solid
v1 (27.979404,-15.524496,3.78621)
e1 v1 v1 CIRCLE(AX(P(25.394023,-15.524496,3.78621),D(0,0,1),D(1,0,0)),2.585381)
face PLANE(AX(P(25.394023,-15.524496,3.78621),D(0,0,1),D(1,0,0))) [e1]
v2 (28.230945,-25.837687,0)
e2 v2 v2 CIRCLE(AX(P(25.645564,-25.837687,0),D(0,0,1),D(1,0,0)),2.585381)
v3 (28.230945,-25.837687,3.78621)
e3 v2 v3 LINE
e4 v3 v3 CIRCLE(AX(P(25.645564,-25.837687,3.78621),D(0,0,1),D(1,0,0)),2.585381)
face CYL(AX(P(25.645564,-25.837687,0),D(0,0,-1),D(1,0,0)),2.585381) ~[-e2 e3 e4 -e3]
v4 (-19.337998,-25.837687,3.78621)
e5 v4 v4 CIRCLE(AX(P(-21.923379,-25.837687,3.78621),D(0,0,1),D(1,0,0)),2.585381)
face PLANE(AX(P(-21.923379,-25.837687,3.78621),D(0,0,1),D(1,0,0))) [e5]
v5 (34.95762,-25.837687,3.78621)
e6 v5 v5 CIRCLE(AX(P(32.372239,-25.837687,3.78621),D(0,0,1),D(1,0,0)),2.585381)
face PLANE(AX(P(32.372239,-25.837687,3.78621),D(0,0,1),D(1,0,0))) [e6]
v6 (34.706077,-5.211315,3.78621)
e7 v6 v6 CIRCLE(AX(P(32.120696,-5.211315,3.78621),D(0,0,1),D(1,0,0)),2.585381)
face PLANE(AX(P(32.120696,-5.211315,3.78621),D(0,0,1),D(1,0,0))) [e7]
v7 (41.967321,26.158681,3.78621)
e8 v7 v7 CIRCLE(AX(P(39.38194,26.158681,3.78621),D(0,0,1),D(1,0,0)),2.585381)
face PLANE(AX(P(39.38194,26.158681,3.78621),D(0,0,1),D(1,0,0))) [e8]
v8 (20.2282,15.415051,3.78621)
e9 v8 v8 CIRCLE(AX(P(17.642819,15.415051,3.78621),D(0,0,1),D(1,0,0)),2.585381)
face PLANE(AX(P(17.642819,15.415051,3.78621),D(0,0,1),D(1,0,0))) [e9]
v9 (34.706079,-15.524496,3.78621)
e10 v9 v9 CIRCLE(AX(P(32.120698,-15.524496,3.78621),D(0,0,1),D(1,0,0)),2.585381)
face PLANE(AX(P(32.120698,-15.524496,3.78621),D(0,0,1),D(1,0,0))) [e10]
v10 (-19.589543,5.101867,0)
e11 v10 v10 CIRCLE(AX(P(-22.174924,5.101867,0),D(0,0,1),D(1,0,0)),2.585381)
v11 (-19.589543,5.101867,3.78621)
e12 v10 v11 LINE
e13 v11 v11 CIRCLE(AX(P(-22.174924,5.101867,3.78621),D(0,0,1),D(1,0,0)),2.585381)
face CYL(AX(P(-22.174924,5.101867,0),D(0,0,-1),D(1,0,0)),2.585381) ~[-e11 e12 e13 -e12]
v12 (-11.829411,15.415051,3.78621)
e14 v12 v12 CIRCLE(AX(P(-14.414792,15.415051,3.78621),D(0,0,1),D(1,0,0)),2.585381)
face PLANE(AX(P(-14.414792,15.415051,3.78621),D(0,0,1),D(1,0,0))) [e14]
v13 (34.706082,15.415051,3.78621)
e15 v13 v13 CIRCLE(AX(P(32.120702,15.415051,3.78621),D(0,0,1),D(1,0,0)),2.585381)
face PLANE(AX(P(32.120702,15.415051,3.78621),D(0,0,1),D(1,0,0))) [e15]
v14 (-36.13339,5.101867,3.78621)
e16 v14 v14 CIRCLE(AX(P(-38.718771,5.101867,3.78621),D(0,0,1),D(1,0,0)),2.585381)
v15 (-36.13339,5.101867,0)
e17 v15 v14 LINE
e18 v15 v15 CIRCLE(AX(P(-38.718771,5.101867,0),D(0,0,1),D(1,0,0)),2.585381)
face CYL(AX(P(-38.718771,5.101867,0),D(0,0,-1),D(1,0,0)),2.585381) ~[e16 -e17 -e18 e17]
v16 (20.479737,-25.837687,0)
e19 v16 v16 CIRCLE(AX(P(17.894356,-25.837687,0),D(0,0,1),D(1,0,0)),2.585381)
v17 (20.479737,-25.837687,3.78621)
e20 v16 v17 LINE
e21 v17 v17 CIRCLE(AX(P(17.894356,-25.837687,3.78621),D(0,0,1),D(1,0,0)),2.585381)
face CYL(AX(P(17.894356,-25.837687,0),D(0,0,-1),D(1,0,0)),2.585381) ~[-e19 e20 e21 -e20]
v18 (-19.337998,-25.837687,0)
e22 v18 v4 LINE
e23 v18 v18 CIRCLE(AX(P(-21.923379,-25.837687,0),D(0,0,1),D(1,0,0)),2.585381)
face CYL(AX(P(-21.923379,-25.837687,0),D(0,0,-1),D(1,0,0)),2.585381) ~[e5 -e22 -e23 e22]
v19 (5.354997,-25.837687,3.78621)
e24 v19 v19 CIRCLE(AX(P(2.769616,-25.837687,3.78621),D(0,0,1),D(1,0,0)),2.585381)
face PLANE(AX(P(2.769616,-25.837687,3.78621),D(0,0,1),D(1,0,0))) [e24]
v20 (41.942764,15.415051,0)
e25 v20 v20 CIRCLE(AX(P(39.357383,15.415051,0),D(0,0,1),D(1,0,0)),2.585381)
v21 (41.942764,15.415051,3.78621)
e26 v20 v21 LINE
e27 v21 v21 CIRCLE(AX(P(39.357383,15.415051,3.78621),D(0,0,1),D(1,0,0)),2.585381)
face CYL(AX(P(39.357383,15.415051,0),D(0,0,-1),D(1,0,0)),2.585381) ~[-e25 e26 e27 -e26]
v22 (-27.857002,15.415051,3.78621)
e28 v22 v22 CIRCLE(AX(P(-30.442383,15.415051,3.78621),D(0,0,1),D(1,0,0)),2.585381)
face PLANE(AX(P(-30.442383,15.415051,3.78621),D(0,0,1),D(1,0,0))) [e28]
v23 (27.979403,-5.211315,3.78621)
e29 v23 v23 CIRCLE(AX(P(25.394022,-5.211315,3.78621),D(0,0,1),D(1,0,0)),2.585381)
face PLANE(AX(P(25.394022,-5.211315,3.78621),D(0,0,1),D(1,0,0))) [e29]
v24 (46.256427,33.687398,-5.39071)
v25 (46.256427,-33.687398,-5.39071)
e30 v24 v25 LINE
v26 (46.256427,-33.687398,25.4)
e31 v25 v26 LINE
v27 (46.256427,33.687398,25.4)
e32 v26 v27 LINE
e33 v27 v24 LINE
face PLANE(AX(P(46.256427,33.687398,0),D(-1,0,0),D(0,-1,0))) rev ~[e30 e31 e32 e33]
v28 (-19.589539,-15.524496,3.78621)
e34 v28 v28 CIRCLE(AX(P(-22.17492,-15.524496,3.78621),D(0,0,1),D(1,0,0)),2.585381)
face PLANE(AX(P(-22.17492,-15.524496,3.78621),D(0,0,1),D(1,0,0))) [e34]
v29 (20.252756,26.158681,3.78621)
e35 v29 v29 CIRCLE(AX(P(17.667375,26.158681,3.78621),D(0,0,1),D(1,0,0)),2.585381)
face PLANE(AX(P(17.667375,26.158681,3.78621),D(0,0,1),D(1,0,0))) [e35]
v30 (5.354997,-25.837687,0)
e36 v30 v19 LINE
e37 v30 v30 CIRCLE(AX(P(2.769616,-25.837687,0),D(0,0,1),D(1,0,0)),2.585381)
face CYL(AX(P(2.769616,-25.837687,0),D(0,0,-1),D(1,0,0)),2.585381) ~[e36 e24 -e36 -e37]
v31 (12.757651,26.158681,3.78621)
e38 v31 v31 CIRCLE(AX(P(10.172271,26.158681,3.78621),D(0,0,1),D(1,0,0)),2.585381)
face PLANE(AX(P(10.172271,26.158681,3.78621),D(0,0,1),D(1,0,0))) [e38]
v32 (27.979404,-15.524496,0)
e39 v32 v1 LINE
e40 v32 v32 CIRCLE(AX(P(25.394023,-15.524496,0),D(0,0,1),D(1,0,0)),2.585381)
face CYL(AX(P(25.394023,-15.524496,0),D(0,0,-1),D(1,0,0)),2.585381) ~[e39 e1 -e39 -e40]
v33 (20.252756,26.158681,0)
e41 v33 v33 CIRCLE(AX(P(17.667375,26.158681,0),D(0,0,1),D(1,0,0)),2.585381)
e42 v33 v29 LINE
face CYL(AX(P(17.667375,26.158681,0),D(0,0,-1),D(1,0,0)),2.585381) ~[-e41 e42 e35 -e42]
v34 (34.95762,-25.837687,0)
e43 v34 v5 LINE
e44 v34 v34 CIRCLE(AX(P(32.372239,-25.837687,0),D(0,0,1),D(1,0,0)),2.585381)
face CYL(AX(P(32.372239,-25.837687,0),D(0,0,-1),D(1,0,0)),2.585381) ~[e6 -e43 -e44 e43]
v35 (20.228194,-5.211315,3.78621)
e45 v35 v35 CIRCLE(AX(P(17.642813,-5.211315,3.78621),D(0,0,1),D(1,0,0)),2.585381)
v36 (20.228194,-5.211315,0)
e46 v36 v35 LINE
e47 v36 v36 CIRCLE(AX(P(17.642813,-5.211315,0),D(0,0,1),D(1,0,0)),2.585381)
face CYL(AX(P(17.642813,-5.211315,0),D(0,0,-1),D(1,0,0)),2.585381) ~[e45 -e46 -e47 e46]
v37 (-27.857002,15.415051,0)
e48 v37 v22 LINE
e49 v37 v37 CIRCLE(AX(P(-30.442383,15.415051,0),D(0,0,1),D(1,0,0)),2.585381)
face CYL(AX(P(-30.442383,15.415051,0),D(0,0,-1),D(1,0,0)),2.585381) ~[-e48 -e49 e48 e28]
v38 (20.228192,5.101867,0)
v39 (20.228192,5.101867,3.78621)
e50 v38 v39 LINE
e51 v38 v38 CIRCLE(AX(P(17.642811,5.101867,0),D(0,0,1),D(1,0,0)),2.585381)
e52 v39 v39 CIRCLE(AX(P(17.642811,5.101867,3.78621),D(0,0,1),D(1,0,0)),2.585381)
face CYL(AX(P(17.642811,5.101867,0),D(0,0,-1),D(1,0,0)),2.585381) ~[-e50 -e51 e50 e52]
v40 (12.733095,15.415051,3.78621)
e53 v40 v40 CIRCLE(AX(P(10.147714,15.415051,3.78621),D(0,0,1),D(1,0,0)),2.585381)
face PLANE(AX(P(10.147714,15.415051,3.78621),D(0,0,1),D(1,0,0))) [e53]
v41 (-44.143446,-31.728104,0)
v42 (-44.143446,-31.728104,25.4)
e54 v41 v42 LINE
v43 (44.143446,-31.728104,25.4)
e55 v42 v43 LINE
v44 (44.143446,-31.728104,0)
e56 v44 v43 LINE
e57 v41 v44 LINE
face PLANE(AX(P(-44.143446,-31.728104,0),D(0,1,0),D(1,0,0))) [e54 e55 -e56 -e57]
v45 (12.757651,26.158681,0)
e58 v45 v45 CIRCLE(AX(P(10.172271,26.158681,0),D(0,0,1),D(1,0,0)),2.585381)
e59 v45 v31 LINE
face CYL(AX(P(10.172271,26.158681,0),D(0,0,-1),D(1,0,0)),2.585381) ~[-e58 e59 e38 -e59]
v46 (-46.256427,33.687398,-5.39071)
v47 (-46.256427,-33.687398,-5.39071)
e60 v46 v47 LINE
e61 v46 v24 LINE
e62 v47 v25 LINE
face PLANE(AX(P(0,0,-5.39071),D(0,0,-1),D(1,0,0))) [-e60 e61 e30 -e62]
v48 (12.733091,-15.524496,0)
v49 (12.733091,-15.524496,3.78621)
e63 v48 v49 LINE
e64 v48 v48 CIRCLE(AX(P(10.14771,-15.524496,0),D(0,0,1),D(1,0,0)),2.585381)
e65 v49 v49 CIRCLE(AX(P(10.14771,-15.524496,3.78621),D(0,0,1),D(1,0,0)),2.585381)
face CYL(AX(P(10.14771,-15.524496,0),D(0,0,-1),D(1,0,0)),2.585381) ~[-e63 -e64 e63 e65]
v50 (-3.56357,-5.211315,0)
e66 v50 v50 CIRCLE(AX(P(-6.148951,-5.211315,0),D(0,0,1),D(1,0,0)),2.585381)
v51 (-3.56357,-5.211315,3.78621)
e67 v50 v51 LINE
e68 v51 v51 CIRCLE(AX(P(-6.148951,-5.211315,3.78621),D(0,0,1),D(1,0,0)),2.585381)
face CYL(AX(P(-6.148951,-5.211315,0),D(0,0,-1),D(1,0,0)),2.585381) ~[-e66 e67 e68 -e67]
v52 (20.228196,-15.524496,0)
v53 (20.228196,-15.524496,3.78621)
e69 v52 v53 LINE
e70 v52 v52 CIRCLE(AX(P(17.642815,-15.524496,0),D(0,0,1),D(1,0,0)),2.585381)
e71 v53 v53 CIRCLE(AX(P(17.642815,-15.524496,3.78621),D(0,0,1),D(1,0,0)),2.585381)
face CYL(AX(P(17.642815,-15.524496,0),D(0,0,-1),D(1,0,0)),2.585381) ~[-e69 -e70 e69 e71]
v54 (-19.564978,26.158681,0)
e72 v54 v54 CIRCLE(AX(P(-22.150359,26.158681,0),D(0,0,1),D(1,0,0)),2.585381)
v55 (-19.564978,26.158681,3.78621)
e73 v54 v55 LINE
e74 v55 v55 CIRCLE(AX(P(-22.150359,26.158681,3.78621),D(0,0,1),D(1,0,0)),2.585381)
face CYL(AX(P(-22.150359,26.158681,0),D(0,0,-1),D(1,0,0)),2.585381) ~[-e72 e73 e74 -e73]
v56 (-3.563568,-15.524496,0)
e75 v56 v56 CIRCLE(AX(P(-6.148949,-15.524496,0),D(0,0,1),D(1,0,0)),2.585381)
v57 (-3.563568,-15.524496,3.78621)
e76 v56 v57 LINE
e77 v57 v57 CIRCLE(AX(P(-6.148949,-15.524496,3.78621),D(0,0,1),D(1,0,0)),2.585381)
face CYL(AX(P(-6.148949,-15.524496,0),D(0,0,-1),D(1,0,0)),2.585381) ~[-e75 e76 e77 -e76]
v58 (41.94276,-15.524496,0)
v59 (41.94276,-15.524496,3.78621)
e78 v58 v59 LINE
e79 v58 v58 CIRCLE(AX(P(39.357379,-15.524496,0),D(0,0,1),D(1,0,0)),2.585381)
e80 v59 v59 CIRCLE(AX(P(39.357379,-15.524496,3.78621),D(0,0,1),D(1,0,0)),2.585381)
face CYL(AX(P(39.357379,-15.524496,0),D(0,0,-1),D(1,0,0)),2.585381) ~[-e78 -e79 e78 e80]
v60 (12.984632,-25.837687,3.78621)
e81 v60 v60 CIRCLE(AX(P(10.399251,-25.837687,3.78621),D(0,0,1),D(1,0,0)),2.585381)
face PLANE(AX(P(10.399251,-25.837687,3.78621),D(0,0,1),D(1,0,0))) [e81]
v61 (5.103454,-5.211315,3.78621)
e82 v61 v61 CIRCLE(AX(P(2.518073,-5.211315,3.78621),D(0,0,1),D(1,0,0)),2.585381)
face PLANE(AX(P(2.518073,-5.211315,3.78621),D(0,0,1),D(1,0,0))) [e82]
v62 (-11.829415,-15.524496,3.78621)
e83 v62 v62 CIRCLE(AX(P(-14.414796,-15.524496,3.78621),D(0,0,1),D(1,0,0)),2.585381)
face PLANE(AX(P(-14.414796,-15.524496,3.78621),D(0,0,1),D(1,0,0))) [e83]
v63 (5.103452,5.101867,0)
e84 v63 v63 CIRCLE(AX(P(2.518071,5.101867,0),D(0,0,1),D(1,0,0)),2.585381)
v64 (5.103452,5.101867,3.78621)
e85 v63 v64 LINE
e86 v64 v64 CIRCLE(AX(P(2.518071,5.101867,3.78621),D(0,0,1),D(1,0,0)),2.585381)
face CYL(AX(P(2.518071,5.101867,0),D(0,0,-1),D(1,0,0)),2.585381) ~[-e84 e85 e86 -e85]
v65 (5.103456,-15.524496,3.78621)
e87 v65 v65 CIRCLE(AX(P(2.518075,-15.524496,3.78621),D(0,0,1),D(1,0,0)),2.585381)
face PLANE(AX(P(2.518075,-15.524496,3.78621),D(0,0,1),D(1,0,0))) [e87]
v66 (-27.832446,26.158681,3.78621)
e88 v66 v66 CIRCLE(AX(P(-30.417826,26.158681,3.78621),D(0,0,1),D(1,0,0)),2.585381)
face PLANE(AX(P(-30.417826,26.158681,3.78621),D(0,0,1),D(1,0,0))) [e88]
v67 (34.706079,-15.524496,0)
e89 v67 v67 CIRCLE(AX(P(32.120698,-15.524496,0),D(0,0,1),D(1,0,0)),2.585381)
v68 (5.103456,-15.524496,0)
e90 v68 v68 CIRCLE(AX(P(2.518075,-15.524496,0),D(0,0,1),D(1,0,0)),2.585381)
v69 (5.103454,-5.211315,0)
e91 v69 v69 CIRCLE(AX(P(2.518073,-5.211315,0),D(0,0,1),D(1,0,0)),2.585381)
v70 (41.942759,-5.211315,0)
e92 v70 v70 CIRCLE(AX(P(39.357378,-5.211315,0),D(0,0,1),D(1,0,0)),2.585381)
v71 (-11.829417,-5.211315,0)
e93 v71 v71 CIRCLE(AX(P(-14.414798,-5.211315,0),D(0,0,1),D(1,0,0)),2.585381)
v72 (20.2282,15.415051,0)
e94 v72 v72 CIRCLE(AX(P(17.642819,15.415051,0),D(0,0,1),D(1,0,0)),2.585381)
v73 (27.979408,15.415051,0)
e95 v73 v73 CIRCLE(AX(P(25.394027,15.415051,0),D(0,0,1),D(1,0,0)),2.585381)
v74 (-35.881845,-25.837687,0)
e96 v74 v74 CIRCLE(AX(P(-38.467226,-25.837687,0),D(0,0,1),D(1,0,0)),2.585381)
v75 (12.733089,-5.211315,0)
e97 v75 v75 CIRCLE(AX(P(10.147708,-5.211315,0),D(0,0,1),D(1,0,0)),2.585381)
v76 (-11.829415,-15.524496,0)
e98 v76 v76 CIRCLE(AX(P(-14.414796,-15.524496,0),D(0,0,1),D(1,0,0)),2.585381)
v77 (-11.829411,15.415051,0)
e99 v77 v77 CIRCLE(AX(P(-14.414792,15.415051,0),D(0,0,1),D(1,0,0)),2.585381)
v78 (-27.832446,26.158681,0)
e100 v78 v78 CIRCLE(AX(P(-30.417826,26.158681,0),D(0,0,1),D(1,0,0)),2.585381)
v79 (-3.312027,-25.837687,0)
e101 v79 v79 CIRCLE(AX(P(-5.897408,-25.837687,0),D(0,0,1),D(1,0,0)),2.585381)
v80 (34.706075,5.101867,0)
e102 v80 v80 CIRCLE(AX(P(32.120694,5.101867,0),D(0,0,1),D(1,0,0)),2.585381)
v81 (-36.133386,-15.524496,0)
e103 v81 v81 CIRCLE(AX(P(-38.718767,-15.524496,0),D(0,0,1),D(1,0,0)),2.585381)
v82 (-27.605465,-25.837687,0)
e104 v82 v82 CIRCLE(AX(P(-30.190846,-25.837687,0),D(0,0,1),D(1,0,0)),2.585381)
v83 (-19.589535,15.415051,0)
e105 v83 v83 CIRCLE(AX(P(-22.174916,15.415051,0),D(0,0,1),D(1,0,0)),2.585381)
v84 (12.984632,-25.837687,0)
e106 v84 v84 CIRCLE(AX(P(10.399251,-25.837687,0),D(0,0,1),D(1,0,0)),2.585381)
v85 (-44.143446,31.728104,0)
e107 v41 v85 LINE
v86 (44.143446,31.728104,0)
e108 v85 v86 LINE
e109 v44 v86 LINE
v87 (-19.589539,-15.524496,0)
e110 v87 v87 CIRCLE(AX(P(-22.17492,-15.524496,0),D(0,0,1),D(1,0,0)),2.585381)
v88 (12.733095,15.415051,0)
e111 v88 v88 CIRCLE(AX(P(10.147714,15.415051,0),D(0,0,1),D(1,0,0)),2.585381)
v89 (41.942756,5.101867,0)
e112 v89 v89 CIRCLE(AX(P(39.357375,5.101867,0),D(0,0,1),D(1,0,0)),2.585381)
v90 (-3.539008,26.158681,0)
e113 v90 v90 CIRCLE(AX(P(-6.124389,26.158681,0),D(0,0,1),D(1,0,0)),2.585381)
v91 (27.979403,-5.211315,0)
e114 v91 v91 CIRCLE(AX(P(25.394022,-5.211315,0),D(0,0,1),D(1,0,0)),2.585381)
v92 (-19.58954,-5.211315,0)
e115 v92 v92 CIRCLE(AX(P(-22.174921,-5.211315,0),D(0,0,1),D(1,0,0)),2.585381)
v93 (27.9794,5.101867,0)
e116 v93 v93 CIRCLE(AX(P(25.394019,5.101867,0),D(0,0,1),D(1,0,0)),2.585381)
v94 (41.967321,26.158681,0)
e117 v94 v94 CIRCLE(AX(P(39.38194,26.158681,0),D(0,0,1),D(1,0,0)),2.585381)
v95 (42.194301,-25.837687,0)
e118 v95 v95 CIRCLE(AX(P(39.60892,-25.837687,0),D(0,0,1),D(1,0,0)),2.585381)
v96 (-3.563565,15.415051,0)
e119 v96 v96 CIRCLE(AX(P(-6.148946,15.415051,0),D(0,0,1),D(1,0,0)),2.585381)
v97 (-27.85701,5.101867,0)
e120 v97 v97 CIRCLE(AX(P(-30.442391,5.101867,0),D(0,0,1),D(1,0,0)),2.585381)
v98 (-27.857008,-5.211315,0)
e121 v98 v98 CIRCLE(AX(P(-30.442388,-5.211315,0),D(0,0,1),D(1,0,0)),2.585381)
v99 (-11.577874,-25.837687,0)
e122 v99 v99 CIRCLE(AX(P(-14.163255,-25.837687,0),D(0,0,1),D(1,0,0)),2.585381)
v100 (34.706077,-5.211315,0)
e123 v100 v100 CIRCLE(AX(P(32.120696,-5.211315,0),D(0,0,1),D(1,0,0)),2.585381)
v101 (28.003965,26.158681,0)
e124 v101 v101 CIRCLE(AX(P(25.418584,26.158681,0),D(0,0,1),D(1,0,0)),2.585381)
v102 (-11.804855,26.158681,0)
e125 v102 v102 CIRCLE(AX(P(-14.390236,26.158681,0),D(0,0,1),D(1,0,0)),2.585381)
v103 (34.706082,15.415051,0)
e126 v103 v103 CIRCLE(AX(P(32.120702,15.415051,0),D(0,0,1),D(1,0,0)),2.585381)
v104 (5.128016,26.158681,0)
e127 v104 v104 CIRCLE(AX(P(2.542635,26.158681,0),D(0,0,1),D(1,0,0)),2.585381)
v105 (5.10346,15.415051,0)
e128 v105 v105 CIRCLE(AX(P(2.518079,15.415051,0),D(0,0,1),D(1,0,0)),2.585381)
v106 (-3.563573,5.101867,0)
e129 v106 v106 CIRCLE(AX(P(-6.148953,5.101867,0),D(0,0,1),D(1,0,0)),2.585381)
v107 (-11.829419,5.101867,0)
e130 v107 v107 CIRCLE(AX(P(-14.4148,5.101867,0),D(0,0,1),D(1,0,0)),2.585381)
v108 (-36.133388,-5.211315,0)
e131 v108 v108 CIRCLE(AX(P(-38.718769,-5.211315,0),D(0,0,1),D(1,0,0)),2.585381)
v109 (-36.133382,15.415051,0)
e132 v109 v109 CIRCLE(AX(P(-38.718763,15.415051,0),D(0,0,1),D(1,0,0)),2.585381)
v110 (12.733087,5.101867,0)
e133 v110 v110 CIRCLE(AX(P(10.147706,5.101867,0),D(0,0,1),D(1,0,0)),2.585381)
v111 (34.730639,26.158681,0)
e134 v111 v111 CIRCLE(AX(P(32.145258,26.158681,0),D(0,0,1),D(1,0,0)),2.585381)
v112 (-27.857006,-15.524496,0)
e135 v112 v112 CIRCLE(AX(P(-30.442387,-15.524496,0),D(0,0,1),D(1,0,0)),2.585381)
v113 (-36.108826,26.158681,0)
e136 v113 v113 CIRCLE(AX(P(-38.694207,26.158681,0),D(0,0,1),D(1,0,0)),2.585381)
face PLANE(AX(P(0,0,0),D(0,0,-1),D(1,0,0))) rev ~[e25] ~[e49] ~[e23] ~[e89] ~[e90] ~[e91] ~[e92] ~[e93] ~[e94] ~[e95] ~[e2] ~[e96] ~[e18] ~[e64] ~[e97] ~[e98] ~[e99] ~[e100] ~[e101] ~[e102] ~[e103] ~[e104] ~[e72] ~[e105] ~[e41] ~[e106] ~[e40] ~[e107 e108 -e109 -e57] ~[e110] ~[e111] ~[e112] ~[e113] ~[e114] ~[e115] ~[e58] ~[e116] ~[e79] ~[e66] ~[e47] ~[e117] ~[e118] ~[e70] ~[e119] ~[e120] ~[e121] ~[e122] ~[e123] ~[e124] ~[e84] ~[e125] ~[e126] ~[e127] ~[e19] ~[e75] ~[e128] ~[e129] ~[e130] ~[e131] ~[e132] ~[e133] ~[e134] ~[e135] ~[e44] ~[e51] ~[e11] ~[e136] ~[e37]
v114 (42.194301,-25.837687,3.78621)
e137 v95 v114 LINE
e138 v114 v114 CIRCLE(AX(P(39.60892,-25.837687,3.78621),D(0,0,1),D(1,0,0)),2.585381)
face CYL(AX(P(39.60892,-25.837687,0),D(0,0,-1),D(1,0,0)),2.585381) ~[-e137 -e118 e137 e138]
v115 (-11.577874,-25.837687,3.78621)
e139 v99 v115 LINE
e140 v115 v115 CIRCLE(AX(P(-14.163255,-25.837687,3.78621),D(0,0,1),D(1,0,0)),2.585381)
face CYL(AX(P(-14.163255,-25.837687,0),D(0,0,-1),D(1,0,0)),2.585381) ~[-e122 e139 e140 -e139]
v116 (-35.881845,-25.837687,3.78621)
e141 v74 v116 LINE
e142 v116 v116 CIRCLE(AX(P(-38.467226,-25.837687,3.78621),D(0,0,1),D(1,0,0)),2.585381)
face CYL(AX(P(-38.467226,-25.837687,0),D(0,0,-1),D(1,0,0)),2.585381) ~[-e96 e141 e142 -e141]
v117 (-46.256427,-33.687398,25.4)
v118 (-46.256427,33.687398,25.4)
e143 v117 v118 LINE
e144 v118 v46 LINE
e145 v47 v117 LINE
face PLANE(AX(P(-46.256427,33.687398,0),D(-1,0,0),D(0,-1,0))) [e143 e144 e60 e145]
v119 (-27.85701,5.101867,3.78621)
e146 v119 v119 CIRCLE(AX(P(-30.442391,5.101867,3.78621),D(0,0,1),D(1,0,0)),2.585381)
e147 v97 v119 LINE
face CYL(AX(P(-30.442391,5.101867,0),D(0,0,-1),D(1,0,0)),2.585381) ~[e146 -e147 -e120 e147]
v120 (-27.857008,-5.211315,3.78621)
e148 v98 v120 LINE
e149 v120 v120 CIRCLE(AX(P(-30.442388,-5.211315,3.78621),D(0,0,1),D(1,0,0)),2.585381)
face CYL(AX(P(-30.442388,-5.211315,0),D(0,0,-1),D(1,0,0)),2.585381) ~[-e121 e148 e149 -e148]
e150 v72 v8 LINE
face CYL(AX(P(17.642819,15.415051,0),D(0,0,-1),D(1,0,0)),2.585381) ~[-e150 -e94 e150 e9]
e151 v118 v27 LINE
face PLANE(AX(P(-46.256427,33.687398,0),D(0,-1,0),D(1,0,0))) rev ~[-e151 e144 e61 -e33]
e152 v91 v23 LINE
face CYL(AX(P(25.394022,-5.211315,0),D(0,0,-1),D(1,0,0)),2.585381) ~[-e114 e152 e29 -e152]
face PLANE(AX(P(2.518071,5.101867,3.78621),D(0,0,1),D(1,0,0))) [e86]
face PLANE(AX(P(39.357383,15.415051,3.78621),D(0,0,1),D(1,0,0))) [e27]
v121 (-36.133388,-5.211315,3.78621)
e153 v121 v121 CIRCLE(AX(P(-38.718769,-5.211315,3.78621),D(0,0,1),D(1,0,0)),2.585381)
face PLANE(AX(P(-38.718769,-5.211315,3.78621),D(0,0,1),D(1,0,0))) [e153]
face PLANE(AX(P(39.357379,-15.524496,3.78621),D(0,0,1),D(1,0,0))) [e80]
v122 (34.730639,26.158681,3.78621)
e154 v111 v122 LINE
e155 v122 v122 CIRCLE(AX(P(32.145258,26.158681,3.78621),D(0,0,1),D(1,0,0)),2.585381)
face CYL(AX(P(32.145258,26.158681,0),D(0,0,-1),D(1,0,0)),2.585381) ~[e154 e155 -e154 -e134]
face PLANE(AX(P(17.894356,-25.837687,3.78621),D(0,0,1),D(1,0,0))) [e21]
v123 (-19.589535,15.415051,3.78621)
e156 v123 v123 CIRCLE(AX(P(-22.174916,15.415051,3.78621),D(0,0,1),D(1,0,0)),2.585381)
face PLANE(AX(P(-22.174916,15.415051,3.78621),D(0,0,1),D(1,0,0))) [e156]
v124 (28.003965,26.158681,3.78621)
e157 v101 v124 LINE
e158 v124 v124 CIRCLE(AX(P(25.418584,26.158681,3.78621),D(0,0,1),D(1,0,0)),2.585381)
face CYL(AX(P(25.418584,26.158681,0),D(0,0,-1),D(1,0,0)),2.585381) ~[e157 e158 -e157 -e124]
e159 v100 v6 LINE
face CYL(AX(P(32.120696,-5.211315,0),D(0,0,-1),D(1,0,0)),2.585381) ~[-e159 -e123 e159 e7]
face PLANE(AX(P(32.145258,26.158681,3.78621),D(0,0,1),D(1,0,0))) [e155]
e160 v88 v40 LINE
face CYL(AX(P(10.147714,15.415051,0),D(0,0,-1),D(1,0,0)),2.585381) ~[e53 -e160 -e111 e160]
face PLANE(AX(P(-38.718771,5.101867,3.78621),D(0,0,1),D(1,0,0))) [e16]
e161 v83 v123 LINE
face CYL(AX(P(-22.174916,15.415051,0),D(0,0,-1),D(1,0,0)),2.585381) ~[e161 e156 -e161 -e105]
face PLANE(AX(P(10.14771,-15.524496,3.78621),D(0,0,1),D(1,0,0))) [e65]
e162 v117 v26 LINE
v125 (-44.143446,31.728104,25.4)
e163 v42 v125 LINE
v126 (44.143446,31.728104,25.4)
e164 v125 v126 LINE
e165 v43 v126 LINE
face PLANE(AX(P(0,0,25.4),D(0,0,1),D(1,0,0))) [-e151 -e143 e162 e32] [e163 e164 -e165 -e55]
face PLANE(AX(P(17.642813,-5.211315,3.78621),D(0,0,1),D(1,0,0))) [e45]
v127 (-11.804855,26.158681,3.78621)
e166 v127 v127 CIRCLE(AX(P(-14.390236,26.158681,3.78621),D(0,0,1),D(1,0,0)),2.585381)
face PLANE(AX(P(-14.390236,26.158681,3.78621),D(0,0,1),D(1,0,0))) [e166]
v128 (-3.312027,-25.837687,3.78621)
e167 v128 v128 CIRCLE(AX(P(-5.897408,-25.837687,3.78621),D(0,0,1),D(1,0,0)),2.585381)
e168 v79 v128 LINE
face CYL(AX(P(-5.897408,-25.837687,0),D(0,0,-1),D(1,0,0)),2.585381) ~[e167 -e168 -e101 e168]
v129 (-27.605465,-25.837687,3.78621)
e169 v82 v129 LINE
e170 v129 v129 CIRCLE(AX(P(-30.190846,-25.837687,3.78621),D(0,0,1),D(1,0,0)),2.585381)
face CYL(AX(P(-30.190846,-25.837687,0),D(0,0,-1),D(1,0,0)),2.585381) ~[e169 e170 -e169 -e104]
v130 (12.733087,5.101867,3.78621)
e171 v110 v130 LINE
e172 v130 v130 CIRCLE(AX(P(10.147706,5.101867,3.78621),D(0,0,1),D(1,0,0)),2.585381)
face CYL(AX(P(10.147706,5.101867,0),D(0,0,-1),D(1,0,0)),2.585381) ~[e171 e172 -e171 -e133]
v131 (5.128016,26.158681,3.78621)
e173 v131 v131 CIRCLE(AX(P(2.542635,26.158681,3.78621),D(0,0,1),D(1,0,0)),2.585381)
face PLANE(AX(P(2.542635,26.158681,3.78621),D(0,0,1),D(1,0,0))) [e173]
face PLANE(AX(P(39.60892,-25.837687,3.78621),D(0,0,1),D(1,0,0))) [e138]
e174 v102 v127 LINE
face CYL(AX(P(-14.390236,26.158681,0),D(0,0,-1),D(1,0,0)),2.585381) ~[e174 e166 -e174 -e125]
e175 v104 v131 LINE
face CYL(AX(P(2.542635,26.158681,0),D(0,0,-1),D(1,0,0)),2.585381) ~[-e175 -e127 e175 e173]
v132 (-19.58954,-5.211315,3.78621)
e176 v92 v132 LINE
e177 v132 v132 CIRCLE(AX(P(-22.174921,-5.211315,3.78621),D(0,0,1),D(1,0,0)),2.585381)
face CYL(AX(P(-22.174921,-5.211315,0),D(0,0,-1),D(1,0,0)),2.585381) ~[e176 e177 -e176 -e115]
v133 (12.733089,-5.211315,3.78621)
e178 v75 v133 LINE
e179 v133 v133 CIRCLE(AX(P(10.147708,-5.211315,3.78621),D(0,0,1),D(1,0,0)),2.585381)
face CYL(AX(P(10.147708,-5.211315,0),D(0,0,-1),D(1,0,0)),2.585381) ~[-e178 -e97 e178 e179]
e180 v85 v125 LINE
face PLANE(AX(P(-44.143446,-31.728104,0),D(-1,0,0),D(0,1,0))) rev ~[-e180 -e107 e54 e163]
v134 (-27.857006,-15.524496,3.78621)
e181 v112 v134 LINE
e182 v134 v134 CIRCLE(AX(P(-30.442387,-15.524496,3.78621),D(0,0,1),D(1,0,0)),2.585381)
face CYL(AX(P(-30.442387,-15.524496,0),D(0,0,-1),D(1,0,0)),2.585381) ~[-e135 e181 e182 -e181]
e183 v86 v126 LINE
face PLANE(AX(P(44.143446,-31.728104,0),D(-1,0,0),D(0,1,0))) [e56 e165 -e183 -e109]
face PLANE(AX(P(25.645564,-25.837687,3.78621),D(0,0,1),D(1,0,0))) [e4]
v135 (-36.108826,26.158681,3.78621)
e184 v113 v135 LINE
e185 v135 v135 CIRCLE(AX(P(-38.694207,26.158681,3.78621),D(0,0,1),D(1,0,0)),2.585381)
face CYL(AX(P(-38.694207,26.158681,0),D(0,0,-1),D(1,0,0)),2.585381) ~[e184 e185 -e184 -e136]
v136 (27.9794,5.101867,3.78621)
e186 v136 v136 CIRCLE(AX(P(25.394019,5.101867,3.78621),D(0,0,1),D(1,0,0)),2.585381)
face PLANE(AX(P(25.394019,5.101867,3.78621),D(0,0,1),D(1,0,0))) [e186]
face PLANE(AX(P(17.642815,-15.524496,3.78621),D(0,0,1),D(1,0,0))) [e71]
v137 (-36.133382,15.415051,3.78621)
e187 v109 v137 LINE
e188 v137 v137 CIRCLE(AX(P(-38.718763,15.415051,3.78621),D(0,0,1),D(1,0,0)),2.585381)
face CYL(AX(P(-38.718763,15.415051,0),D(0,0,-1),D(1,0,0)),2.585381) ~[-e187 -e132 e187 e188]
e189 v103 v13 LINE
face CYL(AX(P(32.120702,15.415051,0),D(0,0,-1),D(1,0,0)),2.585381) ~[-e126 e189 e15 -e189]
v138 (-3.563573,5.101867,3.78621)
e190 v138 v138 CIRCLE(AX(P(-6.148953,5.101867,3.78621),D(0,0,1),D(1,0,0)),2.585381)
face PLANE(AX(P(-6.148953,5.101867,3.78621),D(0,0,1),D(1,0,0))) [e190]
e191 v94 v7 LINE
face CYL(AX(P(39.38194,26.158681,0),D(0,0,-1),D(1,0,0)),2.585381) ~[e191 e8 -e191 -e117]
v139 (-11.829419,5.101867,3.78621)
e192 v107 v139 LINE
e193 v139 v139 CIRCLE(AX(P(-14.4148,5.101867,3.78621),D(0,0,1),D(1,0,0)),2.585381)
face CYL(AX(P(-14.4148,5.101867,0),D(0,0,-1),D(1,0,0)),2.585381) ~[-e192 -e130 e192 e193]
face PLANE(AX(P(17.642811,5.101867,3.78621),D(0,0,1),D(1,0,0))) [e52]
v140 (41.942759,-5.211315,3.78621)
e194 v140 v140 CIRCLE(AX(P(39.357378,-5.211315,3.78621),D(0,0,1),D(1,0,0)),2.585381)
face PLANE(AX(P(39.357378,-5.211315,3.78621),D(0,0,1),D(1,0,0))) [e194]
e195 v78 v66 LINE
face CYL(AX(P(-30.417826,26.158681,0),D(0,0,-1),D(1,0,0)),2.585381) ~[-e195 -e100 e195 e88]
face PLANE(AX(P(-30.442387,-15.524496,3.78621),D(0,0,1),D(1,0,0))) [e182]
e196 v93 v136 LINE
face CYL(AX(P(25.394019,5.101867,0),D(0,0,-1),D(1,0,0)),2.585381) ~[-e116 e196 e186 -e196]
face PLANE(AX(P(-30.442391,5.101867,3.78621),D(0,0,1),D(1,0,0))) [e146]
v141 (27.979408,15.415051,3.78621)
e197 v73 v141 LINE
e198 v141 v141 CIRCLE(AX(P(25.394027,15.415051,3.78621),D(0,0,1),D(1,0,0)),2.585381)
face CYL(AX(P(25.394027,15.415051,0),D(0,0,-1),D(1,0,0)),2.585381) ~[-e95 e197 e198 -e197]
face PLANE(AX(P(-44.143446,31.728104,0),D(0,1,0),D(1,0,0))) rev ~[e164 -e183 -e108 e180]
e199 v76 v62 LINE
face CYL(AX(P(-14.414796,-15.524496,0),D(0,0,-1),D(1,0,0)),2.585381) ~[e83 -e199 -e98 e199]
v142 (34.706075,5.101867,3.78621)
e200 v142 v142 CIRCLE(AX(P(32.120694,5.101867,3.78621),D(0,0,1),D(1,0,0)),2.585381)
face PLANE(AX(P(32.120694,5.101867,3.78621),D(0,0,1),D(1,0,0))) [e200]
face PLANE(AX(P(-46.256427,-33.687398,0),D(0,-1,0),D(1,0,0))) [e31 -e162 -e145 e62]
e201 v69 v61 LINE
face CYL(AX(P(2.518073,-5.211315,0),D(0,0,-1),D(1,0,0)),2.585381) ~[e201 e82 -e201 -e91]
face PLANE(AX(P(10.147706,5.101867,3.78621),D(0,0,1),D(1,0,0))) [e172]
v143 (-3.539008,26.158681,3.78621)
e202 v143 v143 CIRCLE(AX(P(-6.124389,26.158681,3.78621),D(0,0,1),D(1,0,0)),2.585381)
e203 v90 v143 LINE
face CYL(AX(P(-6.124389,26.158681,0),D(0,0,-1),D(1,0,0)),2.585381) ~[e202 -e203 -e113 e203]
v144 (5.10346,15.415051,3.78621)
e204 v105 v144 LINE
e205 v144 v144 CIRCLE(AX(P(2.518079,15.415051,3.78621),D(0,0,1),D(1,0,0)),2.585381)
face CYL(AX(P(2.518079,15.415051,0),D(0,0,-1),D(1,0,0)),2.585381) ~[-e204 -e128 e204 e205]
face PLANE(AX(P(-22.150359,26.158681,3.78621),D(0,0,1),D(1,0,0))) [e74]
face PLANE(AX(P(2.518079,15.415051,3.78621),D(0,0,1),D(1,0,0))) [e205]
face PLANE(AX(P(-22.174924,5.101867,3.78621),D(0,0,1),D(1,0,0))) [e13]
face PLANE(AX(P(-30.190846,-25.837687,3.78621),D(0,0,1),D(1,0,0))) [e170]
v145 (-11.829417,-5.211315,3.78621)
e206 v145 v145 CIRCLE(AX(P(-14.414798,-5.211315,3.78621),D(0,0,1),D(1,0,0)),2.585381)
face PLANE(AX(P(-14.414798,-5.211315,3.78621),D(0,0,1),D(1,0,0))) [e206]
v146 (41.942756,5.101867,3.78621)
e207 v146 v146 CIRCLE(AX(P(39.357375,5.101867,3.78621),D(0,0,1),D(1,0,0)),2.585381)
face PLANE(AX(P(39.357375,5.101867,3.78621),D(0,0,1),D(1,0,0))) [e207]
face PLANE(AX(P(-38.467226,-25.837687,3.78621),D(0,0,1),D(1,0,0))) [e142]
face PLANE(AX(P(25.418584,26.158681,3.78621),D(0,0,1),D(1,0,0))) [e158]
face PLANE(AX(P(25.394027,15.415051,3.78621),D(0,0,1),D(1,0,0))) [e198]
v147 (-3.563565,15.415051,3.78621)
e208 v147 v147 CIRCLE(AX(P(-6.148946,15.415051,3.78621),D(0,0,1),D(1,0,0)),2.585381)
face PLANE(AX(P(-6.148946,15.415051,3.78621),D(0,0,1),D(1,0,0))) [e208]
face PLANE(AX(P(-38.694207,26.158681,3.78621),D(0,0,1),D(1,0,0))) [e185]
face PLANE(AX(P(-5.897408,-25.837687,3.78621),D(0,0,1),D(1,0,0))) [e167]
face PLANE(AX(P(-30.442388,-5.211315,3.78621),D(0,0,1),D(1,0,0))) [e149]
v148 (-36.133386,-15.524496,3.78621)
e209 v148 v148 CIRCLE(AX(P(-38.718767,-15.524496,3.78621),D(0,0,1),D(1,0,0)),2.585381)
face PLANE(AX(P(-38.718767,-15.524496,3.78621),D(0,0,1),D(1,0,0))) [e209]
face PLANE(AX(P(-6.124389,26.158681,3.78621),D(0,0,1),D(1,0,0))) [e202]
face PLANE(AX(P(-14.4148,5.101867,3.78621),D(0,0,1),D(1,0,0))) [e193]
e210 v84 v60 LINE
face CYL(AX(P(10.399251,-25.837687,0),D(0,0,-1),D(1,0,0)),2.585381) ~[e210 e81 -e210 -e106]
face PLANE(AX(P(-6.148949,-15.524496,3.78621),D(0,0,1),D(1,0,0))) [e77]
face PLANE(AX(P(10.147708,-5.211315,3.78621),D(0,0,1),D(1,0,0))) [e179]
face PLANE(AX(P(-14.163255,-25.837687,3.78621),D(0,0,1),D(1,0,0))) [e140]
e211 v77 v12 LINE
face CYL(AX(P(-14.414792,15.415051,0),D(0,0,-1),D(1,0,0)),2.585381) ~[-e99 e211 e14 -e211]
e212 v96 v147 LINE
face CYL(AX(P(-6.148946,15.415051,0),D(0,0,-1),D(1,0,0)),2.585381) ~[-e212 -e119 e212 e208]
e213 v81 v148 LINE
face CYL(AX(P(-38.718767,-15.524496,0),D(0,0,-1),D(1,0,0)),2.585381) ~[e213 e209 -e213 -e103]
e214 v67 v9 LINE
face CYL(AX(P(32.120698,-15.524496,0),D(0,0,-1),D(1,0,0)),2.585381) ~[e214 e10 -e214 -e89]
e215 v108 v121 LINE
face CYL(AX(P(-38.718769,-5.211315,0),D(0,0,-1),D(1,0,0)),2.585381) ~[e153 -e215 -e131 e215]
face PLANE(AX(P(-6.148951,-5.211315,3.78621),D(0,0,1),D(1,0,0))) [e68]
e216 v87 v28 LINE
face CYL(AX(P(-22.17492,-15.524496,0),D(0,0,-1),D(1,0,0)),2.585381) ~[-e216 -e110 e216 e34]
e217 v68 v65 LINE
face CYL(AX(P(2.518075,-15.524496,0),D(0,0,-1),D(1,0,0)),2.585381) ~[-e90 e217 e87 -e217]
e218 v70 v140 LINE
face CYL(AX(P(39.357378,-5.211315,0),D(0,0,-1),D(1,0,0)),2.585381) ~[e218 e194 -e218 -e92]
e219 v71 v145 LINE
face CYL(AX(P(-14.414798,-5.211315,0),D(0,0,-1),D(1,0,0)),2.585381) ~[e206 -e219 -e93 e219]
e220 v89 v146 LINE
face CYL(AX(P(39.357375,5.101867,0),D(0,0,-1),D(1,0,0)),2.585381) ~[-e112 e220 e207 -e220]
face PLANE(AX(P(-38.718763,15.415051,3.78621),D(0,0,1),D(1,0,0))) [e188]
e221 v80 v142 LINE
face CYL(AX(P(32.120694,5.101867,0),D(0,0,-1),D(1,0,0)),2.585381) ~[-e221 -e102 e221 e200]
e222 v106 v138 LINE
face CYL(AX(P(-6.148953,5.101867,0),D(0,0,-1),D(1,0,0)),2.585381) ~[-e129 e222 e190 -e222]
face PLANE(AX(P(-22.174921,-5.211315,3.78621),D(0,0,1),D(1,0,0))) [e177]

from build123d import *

# Parameters (mm, degrees)
F0_R     = 2.5853808969
F1_DEPTH = 3.78621
F2_W     = 92.5128534436
F2_H     = 67.3747956753
F2_W_2   = 88.2868915796
F2_H_2   = 63.4562075138
F3_DEPTH = 25.4
F4_W     = 92.5128534436
F4_H     = 67.3747956753
F5_DEPTH = 5.39071


with BuildPart() as f1:
    # F0 (on Top) → F1 (new body)
    with BuildSketch(Plane.XY):
        with Locations((-6.1489455687, 15.4150508655)):
            Circle(F0_R)
        with Locations((-38.6942066252, 26.1586811393)):
            Circle(F0_R)
        with Locations((-22.1503593461, 26.1586811393)):
            Circle(F0_R)
        with Locations((10.1477103229, -15.5244964796)):
            Circle(F0_R)
        with Locations((-30.1908456923, -25.8376869994)):
            Circle(F0_R)
        with Locations((-22.1749195264, -15.5244964796)):
            Circle(F0_R)
        with Locations((25.4185836632, 26.1586811393)):
            Circle(F0_R)
        with Locations((25.3940272081, 15.4150508655)):
            Circle(F0_R)
        with Locations((10.1477084602, -5.211315273)):
            Circle(F0_R)
        with Locations((-30.4178264261, 26.1586811393)):
            Circle(F0_R)
        with Locations((17.6428148795, -15.5244964796)):
            Circle(F0_R)
        with Locations((25.3940216202, -5.211315273)):
            Circle(F0_R)
        with Locations((10.1477140482, 15.4150508655)):
            Circle(F0_R)
        with Locations((-22.1749158012, 15.4150508655)):
            Circle(F0_R)
        with Locations((-14.4147922161, 15.4150508655)):
            Circle(F0_R)
        with Locations((17.6428186047, 15.4150508655)):
            Circle(F0_R)
        with Locations((17.6428130168, -5.211315273)):
            Circle(F0_R)
        with Locations((-22.1749213891, -5.211315273)):
            Circle(F0_R)
        with Locations((32.1207015841, 15.4150508655)):
            Circle(F0_R)
        with Locations((-21.9233786123, -25.8376869994)):
            Circle(F0_R)
        with Locations((25.3940234828, -15.5244964796)):
            Circle(F0_R)
        with Locations((-38.7187686683, -5.211315273)):
            Circle(F0_R)
        with Locations((-30.4423907975, 5.1018668649)):
            Circle(F0_R)
        with Locations((39.3573794852, -15.5244964796)):
            Circle(F0_R)
        with Locations((39.3819396656, 26.1586811393)):
            Circle(F0_R)
        with Locations((-30.4423866065, -15.5244964796)):
            Circle(F0_R)
        with Locations((17.6673750598, 26.1586811393)):
            Circle(F0_R)
        with Locations((-14.390235761, 26.1586811393)):
            Circle(F0_R)
        with Locations((2.7696161597, -25.8376869994)):
            Circle(F0_R)
        with Locations((-5.8974083799, -25.8376869994)):
            Circle(F0_R)
        with Locations((2.5180789708, 15.4150508655)):
            Circle(F0_R)
        with Locations((-6.1489511567, -5.211315273)):
            Circle(F0_R)
        with Locations((32.1206936679, 5.1018668649)):
            Circle(F0_R)
        with Locations((-22.1749237174, 5.1018668649)):
            Circle(F0_R)
        with Locations((-38.7187630803, 15.4150508655)):
            Circle(F0_R)
        with Locations((-14.1632550272, -25.8376869994)):
            Circle(F0_R)
        with Locations((2.5426354259, 26.1586811393)):
            Circle(F0_R)
        with Locations((-6.1243891136, 26.1586811393)):
            Circle(F0_R)
        with Locations((32.1452580392, 26.1586811393)):
            Circle(F0_R)
        with Locations((10.1722705033, 26.1586811393)):
            Circle(F0_R)
        with Locations((-38.7187709966, 5.1018668649)):
            Circle(F0_R)
        with Locations((39.3573752943, 5.1018668649)):
            Circle(F0_R)
        with Locations((2.5180733829, -5.211315273)):
            Circle(F0_R)
        with Locations((17.8943557936, -25.8376869994)):
            Circle(F0_R)
        with Locations((-14.4148001324, 5.1018668649)):
            Circle(F0_R)
        with Locations((-38.4672258914, -25.8376869994)):
            Circle(F0_R)
        with Locations((2.5180710546, 5.1018668649)):
            Circle(F0_R)
        with Locations((32.372238773, -25.8376869994)):
            Circle(F0_R)
        with Locations((39.3573832105, 15.4150508655)):
            Circle(F0_R)
        with Locations((39.3573776226, -5.211315273)):
            Circle(F0_R)
        with Locations((-30.4423828812, 15.4150508655)):
            Circle(F0_R)
        with Locations((2.5180752455, -15.5244964796)):
            Circle(F0_R)
        with Locations((10.1477061319, 5.1018668649)):
            Circle(F0_R)
        with Locations((-30.4423884691, -5.211315273)):
            Circle(F0_R)
        with Locations((39.6089203994, -25.8376869994)):
            Circle(F0_R)
        with Locations((-6.148953485, 5.1018668649)):
            Circle(F0_R)
        with Locations((32.1206978588, -15.5244964796)):
            Circle(F0_R)
        with Locations((-14.4147959414, -15.5244964796)):
            Circle(F0_R)
        with Locations((25.645564397, -25.8376869994)):
            Circle(F0_R)
        with Locations((25.3940192918, 5.1018668649)):
            Circle(F0_R)
        with Locations((-38.7187668056, -15.5244964796)):
            Circle(F0_R)
        with Locations((-6.148949294, -15.5244964796)):
            Circle(F0_R)
        with Locations((10.399251237, -25.8376869994)):
            Circle(F0_R)
        with Locations((17.6428106885, 5.1018668649)):
            Circle(F0_R)
        with Locations((32.1206959962, -5.211315273)):
            Circle(F0_R)
        with Locations((-14.4147978041, -5.211315273)):
            Circle(F0_R)
    extrude(amount=F1_DEPTH)



with BuildPart() as f3:
    # F2 (on Top) → F3 (new body)
    with BuildSketch(Plane.XY):
        Rectangle(F2_W, F2_H)
        Rectangle(F2_W_2, F2_H_2, mode=Mode.SUBTRACT)
    extrude(amount=F3_DEPTH)


with BuildPart() as f1_1:
    add(f1.part)

    add(f3.part)  # F5 merges F3
    # F4 (on face) → F5 (join)
    with BuildSketch(Plane(origin=(0, 0, 0), x_dir=(1, 0, 0), z_dir=(0, 0, -1))):
        Rectangle(F4_W, F4_H)
    extrude(amount=F5_DEPTH)


solid = f1_1.part
